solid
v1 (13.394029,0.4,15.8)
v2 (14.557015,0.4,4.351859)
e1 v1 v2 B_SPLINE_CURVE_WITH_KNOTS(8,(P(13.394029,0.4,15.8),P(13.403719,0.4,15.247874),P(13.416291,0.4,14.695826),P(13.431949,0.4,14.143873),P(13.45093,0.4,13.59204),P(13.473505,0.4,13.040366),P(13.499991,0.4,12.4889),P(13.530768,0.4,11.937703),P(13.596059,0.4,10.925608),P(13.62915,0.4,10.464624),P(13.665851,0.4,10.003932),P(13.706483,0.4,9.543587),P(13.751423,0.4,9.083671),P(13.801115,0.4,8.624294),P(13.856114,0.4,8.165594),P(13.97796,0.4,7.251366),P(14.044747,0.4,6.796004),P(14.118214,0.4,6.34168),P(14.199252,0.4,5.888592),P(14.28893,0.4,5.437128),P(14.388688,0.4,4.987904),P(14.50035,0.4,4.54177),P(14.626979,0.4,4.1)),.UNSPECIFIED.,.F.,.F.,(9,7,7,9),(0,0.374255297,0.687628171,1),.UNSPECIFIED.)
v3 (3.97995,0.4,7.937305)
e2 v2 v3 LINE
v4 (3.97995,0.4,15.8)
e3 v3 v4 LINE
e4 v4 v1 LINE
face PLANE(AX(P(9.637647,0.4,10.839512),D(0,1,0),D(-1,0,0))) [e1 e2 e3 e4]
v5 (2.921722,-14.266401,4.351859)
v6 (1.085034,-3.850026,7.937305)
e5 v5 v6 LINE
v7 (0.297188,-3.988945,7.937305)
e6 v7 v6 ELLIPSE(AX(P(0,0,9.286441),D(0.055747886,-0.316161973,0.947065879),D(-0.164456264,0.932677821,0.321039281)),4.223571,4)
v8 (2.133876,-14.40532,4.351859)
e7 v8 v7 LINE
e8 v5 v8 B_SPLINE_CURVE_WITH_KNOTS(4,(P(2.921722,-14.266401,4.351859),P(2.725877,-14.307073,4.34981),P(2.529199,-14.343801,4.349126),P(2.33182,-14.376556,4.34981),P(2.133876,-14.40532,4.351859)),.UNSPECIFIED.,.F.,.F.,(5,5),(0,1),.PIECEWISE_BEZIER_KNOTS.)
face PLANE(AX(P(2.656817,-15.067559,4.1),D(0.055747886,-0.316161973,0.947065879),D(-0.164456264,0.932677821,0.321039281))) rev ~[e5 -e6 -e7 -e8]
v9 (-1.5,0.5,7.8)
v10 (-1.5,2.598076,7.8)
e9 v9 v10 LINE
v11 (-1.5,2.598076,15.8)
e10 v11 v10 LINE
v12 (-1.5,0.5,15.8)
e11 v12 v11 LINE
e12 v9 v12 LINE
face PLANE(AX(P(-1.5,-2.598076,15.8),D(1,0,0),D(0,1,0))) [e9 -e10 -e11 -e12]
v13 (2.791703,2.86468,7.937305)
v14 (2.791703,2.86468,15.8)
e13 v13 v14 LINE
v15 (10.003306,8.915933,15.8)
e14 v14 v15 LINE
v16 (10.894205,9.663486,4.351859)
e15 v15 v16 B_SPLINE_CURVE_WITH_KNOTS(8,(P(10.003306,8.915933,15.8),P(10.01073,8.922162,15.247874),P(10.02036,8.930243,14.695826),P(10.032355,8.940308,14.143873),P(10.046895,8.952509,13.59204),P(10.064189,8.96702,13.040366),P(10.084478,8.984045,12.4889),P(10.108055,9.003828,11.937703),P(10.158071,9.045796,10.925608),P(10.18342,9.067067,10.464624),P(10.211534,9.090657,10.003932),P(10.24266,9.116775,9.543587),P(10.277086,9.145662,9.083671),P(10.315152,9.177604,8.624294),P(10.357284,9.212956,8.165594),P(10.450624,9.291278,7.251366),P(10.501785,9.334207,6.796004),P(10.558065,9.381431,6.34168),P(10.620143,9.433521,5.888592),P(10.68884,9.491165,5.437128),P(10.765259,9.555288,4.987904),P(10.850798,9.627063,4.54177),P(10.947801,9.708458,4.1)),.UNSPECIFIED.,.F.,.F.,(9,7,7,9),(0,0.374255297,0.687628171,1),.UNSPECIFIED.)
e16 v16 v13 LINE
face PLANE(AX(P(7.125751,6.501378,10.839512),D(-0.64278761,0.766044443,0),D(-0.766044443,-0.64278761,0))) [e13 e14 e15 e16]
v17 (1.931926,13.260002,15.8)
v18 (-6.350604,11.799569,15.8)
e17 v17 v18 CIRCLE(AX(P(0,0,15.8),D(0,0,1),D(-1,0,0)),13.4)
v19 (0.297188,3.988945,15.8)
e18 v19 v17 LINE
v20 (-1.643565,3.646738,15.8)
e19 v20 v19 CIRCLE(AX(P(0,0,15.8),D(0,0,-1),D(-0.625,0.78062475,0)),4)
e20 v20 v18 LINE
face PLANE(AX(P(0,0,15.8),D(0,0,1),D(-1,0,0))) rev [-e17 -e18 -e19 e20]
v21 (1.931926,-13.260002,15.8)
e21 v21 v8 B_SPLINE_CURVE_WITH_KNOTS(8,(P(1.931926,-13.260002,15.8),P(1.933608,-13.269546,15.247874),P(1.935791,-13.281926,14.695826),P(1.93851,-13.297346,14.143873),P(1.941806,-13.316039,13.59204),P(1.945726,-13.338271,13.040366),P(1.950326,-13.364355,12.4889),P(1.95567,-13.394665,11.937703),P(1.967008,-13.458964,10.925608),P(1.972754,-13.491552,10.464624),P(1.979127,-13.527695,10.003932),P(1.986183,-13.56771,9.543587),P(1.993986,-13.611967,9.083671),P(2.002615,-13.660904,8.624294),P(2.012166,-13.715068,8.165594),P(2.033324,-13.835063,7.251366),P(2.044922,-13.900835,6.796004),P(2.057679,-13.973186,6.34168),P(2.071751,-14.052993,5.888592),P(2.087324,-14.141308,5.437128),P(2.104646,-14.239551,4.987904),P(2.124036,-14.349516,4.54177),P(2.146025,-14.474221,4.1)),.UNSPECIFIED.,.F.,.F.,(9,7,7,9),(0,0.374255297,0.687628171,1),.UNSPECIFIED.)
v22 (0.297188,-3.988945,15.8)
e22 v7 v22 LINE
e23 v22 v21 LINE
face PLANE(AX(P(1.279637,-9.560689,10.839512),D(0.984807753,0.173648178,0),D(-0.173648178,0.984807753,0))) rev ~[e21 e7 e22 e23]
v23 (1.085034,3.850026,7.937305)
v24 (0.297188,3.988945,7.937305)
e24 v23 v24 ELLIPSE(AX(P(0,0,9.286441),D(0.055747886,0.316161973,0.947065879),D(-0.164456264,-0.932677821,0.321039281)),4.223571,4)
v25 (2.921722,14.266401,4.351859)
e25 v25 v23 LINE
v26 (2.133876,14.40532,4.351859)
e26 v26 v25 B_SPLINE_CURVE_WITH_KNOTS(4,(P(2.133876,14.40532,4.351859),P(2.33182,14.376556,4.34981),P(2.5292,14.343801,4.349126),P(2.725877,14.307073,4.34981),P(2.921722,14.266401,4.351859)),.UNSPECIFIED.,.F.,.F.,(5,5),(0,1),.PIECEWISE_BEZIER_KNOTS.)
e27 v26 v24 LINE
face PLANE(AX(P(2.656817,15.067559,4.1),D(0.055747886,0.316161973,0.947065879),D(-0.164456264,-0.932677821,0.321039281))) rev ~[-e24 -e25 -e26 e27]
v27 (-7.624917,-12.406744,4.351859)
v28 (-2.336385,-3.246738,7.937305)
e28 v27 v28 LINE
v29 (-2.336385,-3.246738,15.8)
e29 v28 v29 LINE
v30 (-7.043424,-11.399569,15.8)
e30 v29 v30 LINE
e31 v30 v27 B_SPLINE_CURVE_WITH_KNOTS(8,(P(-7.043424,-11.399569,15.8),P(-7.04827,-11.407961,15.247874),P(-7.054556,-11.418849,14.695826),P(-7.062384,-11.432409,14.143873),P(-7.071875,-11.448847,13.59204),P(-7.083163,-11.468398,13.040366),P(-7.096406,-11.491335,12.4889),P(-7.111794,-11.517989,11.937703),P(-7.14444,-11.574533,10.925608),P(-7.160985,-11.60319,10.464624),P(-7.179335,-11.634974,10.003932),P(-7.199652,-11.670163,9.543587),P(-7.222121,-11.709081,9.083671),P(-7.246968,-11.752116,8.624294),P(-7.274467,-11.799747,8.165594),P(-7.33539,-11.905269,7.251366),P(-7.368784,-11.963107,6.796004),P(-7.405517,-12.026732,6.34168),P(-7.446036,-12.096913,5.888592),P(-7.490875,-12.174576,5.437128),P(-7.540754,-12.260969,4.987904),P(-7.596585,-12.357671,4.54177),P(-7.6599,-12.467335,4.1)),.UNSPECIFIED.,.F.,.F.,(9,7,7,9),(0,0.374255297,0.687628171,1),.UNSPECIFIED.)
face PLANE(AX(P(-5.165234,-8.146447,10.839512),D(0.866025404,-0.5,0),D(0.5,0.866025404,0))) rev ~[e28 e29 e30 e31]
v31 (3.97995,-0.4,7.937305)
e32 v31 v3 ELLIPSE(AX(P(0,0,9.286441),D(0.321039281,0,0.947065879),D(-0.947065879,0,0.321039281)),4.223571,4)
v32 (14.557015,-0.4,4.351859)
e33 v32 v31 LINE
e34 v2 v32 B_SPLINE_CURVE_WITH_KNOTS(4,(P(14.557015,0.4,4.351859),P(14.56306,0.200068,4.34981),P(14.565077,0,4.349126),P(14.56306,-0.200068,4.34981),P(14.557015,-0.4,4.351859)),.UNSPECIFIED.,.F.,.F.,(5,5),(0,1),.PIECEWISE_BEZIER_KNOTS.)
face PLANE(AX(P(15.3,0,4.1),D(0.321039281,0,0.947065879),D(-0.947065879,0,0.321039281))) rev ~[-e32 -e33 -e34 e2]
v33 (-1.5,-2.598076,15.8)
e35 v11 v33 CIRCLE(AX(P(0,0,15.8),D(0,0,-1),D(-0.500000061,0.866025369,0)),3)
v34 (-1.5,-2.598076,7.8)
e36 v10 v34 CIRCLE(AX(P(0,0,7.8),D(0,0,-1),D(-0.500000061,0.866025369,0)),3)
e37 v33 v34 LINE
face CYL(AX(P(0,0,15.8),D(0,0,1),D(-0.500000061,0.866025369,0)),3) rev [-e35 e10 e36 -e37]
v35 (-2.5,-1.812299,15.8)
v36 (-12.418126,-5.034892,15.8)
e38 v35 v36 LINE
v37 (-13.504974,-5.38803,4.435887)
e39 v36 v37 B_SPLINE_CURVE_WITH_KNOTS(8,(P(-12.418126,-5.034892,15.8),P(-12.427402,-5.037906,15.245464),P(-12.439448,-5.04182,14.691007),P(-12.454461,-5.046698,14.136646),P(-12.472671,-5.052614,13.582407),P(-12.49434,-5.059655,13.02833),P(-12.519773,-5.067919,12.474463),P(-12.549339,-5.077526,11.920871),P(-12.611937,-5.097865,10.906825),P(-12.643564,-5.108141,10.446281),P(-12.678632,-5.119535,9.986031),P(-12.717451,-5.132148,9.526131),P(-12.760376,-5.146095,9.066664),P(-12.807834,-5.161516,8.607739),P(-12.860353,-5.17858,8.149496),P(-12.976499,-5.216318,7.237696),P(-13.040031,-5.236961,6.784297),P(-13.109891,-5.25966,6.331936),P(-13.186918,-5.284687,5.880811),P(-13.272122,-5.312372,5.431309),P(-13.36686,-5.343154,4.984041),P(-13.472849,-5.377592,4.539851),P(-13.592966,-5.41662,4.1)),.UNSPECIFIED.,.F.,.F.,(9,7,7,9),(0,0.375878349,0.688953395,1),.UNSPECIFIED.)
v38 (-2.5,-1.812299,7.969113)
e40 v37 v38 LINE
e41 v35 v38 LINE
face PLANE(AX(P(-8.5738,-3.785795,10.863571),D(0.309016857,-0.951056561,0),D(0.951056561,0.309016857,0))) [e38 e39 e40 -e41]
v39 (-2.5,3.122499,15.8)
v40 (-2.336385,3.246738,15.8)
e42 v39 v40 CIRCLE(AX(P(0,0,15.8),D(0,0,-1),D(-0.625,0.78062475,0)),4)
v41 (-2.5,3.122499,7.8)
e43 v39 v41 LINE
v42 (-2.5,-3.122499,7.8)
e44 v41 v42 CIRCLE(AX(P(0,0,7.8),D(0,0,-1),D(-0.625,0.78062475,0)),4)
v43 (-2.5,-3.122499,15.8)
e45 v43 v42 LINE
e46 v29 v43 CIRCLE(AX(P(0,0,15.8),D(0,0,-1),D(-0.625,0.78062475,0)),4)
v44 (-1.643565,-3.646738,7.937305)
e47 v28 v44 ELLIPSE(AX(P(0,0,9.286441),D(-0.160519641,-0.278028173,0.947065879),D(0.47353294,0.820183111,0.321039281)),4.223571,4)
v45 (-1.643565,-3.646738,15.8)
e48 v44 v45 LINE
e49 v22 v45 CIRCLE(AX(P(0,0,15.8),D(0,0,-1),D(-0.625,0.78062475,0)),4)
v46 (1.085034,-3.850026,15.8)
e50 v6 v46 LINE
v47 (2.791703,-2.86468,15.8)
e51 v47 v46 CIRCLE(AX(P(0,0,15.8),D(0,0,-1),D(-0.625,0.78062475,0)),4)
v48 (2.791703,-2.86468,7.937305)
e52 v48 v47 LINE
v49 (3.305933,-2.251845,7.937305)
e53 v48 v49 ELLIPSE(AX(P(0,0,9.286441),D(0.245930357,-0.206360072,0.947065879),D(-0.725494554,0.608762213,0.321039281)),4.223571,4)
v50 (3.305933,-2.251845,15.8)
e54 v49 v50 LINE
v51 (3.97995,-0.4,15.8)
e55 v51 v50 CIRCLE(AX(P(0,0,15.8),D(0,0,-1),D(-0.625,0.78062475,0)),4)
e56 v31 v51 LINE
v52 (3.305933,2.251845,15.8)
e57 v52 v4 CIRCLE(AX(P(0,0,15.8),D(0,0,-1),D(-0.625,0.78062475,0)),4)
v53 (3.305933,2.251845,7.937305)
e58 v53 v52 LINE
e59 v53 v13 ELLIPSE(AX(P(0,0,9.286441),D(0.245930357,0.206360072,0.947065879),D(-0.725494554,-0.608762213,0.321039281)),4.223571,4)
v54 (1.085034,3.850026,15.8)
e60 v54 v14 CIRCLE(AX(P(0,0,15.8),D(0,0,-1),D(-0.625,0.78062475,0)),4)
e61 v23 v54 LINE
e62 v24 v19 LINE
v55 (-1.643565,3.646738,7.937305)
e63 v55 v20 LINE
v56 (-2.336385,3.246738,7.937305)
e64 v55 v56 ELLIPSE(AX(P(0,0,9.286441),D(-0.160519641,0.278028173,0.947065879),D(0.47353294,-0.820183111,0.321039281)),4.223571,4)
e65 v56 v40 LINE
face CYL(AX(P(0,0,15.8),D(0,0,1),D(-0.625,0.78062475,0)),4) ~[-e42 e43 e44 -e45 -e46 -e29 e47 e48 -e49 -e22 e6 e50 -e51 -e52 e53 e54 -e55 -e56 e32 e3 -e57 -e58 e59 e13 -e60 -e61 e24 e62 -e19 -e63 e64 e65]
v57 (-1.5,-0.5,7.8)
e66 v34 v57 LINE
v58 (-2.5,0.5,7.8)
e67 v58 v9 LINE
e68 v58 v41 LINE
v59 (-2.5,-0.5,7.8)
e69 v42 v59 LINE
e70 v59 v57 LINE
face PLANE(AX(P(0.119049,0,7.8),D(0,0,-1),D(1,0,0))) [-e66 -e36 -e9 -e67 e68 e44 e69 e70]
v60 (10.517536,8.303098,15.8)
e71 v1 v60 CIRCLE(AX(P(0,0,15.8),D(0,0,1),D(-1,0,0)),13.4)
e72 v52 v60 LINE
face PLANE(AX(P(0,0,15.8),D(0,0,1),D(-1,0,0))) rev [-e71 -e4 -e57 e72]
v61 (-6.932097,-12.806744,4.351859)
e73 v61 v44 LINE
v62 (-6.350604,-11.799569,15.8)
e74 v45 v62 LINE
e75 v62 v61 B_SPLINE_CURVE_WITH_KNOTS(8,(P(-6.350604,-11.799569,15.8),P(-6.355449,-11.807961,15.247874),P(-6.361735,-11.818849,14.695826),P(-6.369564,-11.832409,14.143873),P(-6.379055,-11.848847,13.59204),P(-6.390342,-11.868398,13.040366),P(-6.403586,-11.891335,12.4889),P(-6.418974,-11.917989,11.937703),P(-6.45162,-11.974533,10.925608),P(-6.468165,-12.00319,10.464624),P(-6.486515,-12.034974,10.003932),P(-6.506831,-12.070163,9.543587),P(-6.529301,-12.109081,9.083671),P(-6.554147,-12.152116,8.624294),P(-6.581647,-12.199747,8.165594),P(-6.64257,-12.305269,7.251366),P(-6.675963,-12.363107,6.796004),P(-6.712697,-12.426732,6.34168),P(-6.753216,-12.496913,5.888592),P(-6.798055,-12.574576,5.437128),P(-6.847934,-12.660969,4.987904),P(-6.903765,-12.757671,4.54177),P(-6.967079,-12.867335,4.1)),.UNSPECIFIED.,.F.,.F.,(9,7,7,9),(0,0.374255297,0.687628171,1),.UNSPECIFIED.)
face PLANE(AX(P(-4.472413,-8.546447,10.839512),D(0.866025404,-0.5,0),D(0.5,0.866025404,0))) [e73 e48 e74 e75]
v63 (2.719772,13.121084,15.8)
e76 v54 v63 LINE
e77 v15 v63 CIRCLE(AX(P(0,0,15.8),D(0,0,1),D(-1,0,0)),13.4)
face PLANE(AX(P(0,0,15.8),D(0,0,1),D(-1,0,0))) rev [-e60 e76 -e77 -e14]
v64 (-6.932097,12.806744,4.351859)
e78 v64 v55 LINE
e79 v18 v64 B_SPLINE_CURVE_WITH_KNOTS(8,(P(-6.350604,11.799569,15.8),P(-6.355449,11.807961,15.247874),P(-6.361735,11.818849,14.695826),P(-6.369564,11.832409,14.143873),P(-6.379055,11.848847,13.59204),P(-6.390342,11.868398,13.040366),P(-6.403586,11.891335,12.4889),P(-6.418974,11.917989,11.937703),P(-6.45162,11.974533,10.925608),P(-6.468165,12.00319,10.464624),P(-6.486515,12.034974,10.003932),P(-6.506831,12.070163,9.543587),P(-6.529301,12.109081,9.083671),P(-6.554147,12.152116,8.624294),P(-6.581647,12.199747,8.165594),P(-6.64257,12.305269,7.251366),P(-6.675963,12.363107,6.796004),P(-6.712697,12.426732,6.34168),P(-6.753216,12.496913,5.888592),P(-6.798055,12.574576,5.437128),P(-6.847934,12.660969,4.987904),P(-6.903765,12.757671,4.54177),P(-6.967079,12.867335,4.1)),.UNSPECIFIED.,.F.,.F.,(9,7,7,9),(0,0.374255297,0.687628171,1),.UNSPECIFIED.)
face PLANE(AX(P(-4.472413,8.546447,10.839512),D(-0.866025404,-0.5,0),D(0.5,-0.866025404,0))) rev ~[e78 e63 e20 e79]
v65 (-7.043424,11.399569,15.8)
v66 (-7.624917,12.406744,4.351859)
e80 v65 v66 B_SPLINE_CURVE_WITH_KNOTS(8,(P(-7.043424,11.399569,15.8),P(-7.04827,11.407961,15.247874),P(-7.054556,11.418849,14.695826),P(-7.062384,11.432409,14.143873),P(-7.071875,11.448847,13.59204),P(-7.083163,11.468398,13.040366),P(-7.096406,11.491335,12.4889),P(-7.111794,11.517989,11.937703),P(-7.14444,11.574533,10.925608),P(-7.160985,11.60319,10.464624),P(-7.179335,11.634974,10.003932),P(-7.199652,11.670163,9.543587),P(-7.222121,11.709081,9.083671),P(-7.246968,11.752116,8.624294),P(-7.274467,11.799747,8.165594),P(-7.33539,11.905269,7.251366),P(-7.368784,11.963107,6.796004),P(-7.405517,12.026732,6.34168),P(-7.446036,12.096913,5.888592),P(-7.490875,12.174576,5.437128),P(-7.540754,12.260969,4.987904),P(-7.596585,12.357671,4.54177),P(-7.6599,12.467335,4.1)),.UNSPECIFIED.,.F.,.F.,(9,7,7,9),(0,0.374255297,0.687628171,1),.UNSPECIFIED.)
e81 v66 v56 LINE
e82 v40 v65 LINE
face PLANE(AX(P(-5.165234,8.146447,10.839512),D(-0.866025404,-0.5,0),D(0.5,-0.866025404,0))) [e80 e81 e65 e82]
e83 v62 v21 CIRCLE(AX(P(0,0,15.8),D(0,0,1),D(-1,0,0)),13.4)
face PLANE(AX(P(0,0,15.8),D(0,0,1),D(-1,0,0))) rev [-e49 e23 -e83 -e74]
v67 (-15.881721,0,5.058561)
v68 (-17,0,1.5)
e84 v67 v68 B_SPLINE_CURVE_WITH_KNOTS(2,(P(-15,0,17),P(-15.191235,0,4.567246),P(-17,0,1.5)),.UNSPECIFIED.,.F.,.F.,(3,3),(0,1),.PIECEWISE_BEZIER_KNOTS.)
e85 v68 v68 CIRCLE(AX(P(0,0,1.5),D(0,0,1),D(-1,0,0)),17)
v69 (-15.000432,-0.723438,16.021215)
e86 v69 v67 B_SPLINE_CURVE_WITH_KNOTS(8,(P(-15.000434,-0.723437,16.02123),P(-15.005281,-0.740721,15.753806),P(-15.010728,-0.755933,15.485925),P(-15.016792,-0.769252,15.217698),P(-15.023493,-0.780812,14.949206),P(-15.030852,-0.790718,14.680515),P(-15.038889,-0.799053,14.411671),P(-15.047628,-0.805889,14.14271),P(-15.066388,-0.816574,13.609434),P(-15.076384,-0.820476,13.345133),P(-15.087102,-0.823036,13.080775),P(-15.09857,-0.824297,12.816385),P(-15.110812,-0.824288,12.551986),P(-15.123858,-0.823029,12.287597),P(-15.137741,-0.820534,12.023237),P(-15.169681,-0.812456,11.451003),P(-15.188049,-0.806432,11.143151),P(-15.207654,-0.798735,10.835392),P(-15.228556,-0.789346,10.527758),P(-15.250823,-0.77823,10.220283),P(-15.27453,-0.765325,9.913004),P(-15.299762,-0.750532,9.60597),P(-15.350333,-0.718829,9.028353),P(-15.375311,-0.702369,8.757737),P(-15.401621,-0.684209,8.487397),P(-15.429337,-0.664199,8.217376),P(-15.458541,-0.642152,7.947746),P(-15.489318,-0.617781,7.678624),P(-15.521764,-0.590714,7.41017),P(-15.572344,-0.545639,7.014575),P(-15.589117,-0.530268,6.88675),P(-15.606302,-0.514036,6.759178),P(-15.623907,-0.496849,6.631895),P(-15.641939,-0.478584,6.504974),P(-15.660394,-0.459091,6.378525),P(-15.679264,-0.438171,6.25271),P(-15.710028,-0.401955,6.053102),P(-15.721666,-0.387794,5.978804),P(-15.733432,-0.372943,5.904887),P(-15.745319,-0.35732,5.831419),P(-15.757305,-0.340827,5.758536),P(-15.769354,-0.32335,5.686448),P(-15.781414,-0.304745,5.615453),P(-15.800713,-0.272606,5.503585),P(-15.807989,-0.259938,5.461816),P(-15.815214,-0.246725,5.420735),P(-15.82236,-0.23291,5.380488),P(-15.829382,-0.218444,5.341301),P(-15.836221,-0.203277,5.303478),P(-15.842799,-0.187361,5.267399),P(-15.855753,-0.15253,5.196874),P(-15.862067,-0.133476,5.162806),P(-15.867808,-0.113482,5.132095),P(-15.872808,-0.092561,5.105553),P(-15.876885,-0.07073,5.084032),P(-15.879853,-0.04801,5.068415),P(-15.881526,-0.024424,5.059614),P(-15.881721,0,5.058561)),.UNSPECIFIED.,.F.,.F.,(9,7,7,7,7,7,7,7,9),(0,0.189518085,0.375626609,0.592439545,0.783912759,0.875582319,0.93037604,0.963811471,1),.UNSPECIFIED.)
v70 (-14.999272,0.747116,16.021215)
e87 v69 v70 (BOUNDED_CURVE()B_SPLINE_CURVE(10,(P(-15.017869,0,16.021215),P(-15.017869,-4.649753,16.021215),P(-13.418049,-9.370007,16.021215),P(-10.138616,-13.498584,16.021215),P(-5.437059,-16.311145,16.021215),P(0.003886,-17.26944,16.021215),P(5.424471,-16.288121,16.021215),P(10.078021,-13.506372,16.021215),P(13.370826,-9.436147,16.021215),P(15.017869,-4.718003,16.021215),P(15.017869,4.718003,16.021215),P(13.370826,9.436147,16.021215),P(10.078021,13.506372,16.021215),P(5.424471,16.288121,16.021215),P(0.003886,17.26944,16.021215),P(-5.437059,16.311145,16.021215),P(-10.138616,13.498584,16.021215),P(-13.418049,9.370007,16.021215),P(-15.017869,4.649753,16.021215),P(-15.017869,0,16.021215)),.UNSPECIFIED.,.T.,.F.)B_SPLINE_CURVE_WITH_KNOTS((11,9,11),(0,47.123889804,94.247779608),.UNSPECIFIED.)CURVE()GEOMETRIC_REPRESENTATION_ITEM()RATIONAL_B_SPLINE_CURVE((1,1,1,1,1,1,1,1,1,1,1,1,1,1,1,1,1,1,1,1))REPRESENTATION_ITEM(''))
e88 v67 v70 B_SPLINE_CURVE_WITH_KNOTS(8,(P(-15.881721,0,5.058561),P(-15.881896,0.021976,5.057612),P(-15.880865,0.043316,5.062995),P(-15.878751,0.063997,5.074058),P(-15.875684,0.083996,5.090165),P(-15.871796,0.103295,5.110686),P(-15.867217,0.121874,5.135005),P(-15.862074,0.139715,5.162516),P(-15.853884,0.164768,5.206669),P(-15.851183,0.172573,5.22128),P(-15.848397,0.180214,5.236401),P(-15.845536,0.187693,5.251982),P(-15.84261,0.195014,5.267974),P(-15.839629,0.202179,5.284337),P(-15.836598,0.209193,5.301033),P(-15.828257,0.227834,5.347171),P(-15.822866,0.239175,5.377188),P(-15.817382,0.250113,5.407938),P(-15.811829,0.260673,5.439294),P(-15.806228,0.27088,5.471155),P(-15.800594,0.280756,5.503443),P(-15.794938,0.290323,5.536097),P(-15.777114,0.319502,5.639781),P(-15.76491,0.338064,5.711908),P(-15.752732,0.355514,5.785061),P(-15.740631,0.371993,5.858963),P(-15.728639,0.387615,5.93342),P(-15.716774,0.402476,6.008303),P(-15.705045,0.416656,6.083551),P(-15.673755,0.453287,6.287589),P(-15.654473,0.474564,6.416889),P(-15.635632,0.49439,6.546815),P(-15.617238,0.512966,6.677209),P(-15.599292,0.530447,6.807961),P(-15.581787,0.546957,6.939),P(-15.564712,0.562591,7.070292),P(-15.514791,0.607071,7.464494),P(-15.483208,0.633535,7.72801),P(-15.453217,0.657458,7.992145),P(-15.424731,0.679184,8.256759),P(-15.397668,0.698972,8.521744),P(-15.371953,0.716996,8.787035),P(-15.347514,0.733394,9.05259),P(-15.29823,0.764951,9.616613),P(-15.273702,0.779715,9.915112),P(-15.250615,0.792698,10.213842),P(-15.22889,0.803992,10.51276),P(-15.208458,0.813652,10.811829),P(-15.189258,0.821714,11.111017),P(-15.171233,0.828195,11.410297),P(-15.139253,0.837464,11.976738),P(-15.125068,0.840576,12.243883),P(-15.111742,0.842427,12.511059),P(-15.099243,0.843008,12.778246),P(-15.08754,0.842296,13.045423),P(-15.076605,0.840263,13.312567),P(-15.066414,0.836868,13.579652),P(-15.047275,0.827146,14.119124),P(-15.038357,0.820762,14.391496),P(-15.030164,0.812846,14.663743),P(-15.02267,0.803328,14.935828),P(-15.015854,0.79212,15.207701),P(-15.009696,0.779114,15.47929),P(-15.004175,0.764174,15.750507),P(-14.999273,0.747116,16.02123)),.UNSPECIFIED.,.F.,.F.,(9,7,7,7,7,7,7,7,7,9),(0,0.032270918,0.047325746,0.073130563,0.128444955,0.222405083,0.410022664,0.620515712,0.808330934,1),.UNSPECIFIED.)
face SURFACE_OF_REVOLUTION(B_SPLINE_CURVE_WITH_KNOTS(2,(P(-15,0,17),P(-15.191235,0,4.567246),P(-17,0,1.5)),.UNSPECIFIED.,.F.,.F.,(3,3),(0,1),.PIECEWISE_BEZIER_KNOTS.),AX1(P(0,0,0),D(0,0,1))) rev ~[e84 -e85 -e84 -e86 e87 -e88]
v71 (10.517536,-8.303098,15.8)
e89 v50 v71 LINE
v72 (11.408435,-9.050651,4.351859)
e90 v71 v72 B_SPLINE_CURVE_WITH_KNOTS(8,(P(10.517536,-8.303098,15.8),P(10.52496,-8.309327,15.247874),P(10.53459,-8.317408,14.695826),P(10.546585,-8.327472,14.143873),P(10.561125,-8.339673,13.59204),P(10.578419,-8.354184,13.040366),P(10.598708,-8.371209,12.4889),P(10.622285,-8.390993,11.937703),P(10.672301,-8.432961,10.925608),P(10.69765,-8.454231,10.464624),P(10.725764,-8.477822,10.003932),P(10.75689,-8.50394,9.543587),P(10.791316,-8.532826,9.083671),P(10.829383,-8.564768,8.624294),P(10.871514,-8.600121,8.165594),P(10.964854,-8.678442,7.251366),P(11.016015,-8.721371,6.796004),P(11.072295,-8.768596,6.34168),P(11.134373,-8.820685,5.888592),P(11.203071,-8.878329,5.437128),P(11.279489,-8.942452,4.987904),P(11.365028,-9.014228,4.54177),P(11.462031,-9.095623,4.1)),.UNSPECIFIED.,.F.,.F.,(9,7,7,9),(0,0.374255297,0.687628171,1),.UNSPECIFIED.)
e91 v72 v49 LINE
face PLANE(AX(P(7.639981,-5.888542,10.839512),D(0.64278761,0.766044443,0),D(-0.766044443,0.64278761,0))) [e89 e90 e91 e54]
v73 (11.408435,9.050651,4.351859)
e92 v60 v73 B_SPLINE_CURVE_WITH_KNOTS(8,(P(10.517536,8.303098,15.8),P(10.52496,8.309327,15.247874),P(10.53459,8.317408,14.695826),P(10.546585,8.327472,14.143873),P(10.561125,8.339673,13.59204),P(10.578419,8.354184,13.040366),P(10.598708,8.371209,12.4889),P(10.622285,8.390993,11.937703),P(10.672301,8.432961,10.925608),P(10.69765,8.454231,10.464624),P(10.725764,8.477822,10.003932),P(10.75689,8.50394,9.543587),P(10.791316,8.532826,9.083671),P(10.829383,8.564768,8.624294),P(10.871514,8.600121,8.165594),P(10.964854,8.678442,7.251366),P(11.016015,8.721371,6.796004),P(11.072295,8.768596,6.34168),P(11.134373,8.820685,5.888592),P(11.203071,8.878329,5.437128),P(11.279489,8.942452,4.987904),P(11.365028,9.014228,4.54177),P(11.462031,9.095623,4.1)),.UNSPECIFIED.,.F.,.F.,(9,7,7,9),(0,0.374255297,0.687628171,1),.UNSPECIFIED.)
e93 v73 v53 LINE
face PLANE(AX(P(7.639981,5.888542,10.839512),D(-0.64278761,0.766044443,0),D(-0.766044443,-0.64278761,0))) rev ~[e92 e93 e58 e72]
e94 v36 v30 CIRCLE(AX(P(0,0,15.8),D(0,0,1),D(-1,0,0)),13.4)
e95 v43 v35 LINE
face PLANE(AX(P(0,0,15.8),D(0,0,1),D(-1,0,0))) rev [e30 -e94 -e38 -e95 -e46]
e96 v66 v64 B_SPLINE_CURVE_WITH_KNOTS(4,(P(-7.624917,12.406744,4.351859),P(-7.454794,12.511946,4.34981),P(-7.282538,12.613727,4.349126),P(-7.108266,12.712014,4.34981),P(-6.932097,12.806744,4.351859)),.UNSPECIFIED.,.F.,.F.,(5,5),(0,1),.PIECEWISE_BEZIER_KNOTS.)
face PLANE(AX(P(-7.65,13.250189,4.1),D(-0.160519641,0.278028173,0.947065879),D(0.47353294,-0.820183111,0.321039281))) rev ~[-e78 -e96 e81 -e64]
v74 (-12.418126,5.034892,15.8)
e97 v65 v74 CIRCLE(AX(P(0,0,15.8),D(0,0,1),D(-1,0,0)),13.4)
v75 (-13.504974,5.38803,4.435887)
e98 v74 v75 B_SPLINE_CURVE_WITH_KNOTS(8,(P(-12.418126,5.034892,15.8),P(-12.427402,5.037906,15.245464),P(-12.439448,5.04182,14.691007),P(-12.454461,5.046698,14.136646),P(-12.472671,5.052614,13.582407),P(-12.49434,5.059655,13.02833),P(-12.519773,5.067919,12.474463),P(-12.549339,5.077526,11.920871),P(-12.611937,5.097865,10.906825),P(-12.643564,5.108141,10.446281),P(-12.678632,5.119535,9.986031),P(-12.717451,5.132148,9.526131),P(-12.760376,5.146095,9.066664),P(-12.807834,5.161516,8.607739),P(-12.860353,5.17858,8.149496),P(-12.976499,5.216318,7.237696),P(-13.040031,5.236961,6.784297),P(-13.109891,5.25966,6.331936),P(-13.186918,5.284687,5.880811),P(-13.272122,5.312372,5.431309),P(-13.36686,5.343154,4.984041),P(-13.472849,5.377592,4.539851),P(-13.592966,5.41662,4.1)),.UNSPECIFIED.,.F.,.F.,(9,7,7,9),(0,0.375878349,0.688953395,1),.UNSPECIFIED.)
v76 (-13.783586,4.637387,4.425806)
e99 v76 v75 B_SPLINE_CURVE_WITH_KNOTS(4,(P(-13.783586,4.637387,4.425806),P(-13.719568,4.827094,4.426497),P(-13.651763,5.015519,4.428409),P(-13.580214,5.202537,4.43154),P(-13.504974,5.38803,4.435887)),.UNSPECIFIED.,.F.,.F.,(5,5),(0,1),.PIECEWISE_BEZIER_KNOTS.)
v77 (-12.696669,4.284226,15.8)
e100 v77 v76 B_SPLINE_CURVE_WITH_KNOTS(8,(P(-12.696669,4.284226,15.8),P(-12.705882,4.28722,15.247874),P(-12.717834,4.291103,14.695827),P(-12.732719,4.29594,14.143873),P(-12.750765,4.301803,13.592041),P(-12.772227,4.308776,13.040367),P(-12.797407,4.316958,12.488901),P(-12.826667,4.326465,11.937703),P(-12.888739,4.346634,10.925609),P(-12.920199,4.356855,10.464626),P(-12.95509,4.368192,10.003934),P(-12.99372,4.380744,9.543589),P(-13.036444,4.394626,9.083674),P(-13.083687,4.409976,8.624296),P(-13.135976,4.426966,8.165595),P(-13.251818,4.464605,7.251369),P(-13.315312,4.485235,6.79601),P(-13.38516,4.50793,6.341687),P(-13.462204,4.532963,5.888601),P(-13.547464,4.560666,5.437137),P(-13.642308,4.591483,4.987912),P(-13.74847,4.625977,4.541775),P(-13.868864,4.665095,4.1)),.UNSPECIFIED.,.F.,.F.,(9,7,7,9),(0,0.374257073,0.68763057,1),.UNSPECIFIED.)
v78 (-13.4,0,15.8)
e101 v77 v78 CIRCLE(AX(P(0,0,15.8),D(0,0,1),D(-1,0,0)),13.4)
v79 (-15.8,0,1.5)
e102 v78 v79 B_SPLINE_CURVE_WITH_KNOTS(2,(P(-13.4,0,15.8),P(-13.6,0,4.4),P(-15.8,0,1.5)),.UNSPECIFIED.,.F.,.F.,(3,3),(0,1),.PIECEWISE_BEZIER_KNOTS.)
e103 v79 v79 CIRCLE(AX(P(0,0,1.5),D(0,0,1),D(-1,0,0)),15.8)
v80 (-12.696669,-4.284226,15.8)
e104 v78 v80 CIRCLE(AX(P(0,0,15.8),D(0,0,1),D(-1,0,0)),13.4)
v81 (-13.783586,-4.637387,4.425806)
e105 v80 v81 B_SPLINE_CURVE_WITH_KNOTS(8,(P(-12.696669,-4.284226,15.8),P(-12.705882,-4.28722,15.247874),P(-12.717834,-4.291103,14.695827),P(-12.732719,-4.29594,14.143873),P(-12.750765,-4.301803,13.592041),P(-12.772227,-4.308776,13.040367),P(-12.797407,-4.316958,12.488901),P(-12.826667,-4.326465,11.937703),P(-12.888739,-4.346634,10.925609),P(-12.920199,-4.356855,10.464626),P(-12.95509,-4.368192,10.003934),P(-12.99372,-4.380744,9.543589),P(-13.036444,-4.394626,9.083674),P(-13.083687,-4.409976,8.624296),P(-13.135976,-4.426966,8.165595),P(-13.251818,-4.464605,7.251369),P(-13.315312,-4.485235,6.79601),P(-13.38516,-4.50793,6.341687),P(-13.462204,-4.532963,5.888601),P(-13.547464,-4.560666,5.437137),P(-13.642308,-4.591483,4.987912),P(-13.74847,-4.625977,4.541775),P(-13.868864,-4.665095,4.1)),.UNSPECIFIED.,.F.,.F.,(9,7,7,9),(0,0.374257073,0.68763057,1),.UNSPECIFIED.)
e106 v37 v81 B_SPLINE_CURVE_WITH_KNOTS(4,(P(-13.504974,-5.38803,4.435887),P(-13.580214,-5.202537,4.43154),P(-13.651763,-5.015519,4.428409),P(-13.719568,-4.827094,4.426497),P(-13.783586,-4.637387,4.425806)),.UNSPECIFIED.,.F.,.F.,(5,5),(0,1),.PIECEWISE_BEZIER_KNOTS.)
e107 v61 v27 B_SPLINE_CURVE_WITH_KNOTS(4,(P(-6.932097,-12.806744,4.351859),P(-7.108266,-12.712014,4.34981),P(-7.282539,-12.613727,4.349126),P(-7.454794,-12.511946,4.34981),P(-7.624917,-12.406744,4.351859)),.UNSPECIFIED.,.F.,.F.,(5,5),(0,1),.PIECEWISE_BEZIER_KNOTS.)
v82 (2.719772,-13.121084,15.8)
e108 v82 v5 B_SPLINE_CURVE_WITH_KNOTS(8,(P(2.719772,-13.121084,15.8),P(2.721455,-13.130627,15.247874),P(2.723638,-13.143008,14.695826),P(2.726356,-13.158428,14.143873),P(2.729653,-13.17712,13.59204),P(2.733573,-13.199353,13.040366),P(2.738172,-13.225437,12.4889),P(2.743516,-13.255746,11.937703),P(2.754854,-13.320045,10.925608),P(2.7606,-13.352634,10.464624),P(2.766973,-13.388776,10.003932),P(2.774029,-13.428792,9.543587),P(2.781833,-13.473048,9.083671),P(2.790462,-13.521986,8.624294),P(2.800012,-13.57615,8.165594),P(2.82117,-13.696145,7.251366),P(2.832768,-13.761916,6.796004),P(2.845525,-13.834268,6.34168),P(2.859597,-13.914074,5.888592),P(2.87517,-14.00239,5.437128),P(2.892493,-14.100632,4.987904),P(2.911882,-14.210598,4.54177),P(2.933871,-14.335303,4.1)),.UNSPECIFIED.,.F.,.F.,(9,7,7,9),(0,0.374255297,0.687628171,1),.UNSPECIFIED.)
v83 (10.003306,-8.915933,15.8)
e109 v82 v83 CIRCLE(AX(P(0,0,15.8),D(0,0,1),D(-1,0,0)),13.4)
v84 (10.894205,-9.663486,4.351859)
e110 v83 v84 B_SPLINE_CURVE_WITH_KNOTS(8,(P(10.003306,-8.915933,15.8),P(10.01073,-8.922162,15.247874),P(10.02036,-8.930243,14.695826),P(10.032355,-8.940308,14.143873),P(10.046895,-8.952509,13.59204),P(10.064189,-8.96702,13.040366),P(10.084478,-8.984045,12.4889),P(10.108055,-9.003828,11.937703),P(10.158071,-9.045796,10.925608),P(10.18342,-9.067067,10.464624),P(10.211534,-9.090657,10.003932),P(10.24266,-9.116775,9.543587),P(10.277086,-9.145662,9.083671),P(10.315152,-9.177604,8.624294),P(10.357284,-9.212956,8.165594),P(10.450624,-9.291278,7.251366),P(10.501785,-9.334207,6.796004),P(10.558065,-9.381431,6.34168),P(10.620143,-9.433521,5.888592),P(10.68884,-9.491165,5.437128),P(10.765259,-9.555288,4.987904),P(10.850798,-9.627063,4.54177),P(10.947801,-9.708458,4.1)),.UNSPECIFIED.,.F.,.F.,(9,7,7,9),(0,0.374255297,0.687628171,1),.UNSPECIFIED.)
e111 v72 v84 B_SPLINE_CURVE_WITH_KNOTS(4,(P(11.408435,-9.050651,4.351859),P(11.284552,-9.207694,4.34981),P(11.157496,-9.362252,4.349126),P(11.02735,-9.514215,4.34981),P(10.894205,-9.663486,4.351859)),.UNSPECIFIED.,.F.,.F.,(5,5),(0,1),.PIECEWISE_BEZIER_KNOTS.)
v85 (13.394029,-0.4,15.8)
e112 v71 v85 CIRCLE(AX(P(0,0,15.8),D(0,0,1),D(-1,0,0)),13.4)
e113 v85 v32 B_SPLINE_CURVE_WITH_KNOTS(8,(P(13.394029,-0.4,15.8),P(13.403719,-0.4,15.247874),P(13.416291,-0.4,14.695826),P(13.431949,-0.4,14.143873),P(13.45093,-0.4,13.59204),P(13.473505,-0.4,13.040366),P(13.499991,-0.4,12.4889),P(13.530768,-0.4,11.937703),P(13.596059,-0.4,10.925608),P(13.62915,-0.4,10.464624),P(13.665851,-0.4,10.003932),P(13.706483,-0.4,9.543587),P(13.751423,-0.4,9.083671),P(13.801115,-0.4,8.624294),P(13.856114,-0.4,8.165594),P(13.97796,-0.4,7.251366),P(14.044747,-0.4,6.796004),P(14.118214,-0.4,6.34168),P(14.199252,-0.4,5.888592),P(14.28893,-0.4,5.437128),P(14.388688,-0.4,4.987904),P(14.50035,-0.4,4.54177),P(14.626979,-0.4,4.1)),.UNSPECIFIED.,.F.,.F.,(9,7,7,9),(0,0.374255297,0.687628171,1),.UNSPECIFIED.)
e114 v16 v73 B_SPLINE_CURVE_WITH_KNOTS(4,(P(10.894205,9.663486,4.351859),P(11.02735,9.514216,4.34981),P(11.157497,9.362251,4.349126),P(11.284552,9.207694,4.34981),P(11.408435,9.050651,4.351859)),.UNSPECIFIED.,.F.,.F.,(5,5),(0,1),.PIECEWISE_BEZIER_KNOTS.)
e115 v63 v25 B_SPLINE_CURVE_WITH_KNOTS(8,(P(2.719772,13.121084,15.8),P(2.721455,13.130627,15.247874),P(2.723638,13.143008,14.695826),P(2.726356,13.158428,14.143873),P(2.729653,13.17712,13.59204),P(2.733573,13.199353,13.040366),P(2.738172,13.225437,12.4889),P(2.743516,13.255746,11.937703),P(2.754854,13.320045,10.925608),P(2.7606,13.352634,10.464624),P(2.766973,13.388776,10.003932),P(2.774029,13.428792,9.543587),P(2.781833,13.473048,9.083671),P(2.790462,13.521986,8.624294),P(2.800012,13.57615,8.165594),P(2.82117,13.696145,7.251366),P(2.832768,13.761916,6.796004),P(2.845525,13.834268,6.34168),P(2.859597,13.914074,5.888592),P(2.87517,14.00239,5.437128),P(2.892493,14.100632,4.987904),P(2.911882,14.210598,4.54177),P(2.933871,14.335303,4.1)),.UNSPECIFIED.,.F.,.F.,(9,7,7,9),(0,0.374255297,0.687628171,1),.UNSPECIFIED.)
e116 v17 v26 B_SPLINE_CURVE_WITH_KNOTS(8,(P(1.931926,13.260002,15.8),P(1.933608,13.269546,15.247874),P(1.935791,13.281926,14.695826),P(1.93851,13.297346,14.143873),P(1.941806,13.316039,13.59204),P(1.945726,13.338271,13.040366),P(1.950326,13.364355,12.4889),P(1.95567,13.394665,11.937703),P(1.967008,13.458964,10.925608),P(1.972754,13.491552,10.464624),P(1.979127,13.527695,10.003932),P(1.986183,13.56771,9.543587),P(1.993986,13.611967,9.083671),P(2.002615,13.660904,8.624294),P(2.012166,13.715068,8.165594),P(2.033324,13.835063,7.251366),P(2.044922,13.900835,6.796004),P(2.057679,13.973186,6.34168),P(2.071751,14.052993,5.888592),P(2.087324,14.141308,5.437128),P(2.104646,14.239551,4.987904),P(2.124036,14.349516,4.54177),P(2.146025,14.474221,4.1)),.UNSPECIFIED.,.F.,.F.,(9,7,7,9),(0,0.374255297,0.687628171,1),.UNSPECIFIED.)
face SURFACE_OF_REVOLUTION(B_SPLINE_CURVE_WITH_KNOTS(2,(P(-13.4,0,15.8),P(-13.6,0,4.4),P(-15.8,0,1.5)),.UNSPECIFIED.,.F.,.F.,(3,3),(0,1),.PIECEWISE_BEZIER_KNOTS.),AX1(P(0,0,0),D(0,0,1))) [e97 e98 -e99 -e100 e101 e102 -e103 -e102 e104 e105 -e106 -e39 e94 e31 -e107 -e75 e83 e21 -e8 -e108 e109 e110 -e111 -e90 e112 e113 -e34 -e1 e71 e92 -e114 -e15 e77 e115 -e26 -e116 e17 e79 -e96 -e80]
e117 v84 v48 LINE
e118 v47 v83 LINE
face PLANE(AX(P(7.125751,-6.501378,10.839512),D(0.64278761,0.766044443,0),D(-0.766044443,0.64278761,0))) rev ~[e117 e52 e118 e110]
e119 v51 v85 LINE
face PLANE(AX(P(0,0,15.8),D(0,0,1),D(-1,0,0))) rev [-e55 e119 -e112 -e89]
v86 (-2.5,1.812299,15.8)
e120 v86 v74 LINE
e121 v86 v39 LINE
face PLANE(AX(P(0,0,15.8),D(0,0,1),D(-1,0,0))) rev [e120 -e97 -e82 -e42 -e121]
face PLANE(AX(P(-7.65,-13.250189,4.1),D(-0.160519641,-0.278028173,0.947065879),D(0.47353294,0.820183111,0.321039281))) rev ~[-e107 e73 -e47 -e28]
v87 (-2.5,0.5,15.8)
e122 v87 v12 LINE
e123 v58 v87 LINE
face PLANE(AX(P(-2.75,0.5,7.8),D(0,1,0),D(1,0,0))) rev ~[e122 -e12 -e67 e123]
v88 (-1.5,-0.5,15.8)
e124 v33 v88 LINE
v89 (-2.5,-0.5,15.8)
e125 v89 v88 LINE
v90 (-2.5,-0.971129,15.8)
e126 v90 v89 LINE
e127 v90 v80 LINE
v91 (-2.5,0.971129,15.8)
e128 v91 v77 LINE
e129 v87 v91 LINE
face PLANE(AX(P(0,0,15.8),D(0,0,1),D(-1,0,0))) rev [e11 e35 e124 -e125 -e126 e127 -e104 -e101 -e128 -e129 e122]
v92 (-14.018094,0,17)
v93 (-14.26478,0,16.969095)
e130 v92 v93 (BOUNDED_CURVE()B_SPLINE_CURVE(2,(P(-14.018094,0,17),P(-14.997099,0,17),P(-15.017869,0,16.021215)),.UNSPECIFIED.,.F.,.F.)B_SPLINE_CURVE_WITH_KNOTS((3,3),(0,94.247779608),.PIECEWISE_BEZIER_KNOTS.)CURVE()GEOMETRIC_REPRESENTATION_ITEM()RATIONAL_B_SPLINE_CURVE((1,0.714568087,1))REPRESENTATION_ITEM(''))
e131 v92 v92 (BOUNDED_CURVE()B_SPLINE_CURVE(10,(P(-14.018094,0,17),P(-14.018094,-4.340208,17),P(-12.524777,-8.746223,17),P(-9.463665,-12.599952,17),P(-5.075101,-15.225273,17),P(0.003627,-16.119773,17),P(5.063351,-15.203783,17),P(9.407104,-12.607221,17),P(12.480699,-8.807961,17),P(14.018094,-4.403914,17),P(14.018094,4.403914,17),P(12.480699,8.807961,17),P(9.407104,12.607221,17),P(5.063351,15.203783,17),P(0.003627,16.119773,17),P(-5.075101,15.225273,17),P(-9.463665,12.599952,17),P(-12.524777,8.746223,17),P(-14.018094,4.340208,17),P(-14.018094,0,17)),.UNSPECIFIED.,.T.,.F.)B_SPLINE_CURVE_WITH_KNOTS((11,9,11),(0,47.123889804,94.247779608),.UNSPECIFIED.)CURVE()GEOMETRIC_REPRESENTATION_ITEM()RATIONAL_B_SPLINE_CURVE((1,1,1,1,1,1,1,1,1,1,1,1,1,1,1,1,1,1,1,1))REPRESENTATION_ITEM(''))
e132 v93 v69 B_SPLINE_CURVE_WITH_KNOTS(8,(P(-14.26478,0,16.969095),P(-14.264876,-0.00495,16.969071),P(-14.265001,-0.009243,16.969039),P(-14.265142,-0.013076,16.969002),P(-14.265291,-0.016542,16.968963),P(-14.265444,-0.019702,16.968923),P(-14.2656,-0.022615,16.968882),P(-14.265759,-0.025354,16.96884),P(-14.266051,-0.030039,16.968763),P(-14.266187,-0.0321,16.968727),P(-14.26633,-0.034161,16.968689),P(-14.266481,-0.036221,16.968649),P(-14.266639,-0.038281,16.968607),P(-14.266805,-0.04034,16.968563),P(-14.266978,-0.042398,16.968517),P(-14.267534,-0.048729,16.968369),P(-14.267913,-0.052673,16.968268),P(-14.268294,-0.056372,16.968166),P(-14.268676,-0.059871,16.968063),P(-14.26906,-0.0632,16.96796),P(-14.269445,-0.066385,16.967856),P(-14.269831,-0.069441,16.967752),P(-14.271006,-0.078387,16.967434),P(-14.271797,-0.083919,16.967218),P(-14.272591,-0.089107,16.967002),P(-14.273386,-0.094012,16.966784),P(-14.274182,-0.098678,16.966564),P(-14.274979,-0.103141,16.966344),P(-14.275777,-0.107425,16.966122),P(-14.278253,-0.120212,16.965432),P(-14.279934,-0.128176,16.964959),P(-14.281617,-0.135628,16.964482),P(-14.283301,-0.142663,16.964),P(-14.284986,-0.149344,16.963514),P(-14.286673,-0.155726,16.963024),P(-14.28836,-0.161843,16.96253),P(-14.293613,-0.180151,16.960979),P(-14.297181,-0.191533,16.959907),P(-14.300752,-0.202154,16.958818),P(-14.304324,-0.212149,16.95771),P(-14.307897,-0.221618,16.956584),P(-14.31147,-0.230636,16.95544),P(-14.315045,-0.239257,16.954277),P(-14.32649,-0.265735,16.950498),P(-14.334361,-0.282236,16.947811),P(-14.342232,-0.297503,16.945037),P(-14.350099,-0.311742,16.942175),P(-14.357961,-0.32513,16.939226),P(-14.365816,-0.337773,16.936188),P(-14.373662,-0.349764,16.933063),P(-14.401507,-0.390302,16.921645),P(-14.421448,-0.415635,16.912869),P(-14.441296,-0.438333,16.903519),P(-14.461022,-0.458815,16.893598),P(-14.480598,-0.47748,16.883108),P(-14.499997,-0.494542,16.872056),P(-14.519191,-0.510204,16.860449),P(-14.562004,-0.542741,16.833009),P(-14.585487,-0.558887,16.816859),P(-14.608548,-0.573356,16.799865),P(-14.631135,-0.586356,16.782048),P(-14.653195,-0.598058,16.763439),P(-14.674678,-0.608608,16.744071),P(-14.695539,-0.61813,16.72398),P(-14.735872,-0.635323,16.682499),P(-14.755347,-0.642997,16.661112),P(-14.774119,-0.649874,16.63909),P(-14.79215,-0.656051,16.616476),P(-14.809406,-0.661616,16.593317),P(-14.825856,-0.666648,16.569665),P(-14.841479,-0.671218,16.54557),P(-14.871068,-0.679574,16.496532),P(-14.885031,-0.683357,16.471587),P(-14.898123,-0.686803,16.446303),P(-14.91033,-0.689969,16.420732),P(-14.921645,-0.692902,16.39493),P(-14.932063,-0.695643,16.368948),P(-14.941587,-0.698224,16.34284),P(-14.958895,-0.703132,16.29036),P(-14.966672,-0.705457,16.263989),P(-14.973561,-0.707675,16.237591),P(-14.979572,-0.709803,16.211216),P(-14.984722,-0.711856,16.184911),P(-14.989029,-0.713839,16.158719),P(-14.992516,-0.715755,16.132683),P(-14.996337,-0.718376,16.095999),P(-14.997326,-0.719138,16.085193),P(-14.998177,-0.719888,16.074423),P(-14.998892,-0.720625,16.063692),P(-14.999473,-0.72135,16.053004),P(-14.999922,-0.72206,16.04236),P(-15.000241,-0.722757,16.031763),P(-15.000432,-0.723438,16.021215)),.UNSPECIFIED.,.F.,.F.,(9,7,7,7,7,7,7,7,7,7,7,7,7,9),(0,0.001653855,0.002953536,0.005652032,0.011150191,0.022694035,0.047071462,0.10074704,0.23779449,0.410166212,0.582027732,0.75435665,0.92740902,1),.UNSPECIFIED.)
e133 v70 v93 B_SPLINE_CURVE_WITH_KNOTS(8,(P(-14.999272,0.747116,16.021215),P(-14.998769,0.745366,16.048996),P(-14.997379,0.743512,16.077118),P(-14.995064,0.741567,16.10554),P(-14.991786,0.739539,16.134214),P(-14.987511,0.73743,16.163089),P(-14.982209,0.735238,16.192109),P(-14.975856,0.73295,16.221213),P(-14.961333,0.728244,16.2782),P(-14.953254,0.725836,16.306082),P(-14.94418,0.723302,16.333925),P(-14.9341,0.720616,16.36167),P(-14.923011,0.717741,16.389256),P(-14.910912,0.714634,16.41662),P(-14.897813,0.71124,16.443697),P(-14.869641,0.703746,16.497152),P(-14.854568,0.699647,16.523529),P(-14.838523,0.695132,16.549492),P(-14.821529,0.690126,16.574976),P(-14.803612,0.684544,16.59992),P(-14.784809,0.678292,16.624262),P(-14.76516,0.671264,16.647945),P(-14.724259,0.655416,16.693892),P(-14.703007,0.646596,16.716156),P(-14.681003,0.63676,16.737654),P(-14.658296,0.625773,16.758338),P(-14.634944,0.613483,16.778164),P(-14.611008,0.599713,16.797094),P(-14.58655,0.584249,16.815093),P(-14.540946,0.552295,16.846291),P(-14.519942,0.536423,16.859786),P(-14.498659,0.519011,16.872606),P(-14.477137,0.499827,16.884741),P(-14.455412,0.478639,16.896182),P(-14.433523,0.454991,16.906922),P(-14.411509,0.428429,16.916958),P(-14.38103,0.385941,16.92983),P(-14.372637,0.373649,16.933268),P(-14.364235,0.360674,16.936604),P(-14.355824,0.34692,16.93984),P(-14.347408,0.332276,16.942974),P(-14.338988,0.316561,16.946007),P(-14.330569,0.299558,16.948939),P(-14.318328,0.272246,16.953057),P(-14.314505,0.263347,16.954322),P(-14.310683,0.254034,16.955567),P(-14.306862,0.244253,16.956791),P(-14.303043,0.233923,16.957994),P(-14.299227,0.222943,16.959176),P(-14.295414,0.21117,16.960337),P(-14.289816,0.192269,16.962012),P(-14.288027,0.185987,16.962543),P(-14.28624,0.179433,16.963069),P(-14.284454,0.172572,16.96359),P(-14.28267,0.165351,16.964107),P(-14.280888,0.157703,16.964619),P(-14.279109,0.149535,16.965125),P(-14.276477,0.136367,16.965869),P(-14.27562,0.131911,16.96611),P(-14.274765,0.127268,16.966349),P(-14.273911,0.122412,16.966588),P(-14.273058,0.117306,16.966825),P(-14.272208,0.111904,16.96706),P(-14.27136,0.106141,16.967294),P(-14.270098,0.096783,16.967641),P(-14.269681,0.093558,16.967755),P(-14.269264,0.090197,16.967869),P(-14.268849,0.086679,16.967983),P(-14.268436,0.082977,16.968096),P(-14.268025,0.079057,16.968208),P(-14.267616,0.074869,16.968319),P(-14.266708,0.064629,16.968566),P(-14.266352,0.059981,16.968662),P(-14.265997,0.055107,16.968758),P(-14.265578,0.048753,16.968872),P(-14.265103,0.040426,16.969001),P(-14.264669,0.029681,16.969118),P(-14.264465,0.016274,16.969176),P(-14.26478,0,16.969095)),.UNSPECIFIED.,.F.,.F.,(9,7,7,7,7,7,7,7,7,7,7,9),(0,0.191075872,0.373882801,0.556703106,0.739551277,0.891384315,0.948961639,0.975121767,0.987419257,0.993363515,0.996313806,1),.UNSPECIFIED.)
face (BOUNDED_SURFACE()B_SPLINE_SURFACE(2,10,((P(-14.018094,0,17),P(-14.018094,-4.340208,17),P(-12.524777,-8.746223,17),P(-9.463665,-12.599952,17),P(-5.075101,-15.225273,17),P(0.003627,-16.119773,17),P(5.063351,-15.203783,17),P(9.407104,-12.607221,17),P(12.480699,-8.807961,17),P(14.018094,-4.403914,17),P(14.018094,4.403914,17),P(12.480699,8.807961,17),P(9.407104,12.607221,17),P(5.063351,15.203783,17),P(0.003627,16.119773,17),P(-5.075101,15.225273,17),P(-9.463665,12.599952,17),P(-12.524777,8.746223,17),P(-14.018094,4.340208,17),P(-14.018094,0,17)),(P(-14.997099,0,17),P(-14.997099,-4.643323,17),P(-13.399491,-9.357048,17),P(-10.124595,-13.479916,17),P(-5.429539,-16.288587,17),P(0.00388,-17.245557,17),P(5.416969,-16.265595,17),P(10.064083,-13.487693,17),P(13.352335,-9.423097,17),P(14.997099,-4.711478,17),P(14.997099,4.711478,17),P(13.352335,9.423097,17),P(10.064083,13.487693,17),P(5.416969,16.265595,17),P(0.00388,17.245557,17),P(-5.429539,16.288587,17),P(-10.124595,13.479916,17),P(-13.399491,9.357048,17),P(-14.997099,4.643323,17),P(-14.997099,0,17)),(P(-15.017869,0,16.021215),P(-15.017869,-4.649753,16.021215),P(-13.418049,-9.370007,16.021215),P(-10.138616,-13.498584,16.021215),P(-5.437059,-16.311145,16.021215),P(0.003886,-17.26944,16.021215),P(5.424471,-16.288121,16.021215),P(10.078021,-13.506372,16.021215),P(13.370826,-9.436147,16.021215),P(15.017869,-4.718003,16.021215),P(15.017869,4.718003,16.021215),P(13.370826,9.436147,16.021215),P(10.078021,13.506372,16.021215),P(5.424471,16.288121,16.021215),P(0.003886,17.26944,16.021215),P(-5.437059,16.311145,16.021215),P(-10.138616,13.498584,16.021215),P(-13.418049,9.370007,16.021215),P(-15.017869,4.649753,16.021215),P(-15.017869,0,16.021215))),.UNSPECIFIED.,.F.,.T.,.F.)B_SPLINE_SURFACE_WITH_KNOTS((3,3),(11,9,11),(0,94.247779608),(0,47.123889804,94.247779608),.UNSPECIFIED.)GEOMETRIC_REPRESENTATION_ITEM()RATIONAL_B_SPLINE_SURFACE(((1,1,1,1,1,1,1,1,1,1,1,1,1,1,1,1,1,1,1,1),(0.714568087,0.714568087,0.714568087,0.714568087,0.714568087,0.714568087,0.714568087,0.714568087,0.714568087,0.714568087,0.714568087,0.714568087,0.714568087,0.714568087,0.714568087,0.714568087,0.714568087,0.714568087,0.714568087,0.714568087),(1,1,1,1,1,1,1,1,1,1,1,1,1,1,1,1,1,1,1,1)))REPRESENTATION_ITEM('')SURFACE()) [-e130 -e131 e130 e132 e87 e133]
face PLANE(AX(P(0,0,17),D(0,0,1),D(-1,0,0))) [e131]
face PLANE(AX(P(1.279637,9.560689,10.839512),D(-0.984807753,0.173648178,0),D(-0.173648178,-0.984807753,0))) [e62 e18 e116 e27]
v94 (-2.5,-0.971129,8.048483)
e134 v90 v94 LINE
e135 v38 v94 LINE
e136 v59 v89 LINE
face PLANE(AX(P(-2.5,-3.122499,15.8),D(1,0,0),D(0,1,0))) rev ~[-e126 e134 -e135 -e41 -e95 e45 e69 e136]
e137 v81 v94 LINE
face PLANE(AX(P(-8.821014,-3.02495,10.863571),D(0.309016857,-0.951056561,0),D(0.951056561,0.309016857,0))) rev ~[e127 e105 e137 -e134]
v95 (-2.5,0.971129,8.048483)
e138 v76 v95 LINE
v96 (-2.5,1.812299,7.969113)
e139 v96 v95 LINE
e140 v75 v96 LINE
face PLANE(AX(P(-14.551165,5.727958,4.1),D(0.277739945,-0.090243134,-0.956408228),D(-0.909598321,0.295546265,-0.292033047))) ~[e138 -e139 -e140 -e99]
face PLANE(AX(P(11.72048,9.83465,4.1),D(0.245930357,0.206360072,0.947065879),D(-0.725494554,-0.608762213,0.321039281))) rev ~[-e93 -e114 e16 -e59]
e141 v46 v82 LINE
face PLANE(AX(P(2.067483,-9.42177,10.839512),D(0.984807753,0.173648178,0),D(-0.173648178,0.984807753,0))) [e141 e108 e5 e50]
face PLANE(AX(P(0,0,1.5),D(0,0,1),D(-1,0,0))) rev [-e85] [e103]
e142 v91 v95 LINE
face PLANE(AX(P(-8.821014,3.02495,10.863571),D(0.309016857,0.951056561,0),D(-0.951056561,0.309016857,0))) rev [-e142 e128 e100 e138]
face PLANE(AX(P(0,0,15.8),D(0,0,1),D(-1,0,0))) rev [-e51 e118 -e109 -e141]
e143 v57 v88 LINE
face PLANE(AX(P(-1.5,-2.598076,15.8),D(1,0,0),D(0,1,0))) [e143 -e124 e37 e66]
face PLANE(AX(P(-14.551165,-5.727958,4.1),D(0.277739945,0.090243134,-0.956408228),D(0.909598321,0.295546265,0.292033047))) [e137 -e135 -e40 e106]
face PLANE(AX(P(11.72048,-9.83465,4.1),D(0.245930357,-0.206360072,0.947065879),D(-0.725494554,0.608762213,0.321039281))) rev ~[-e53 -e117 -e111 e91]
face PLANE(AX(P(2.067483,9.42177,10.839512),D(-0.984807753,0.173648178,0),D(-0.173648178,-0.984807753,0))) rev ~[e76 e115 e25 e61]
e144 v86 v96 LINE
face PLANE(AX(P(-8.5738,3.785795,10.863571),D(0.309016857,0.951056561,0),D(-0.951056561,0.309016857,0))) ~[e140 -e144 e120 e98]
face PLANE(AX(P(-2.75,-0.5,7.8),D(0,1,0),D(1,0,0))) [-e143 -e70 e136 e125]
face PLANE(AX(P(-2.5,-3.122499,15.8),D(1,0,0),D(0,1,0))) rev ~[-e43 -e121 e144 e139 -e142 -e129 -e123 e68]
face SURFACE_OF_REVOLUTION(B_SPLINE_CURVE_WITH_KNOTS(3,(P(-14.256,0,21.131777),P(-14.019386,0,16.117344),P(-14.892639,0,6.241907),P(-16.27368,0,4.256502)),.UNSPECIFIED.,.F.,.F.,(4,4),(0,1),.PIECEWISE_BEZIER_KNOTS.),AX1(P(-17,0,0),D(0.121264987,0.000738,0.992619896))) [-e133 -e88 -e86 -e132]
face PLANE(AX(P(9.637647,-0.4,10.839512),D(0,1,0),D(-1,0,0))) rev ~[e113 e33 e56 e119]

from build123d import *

# Parameters (mm, degrees)
PAD_DEPTH             = 8
SKETCH003_W           = 5.5
SKETCH003_H           = 1
POCKET_DEPTH          = 8
FILLET001_R           = 1
PAD001_DEPTH          = 0.4
POLARPATTERN_COUNT    = 4
POLARPATTERN_ANGLE    = 120
POLARPATTERN001_COUNT = 4
POLARPATTERN001_ANGLE = 120
PAD002_DEPTH          = 0.8


with BuildPart() as part:
    # Sketch → Revolution001 (revolve)
    with BuildSketch(Plane.XZ):
        with BuildLine():
            Line((-15, 17), (0, 17))
            Line((0, 17), (0, 15.8))
            Line((0, 15.8), (-13.4, 15.8))
            add(Edge.make_bspline(
                [(-13.4, 15.8), (-13.6, 4.4), (-15.8, 1.5)],
                knots=[0, 0, 0, 1, 1, 1], degree=2))
            Line((-15.8, 1.5), (-17, 1.5))
            add(Edge.make_bspline(
                [(-15, 17), (-15.191235, 4.567246), (-17, 1.5)],
                knots=[0, 0, 0, 1, 1, 1], degree=2))
        make_face()
    revolve(axis=Axis((0, 0, 0), (0, 0, 1)))

    # Sketch002 (on Face2 of Revolution001) → Pad (new body)
    with BuildSketch(Plane(origin=(0, 0, 15.8), x_dir=(1, 0, 0), z_dir=(0, 0, -1))):
        with BuildLine():
            Line((-2.5, 3.122499), (-2.5, -3.122499))
            ThreePointArc((-2.5, -3.122499), (4, 0), (-2.5, 3.122499))
        make_face()
        with BuildLine():
            Line((-1.5, 2.598076), (-1.5, -2.598076))
            ThreePointArc((-1.5, -2.598076), (3, 0), (-1.5, 2.598076))
        make_face(mode=Mode.SUBTRACT)
    extrude(amount=PAD_DEPTH)

    # Sketch003 (on Face8 of Pad) → Pocket (cut)
    with BuildSketch(Plane(origin=(0, 0, 7.8), x_dir=(1, 0, 0), z_dir=(0, 0, -1))):
        Rectangle(SKETCH003_W, SKETCH003_H)
    extrude(amount=-POCKET_DEPTH, mode=Mode.SUBTRACT)

    # Fillet001
    fillet001_edges = [part.edges().sort_by_distance(p)[0] for p in [
        (15, 0, 17),
    ]]
    fillet(fillet001_edges, radius=FILLET001_R)

    # Sketch004 → Pad001 (join, symmetric)
    with BuildSketch(Plane.XZ):
        Polygon((3.5, 16.2), (14.1, 16.2), (15.3, 4.1), (3.5, 8.1), align=None)
    pad001 = extrude(amount=PAD001_DEPTH, both=True)

    # PolarPattern: Pad001 ×4 about axis
    polarpattern_axis = Axis((0, 0, 0), (0, 0, 1))
    for i in range(1, POLARPATTERN_COUNT):
        add(pad001.rotate(polarpattern_axis, i * POLARPATTERN_ANGLE / (POLARPATTERN_COUNT - 1)))

    # PolarPattern001: Pad001 ×4 about axis
    polarpattern001_axis = Axis((0, 0, 0), (0, 0, -1))
    for i in range(1, POLARPATTERN001_COUNT):
        add(pad001.rotate(polarpattern001_axis, i * POLARPATTERN001_ANGLE / (POLARPATTERN001_COUNT - 1)))

    # Sketch005 (on DatumPlane) → Pad002 (join)
    with BuildSketch(Plane(origin=(0, -1, 0), x_dir=(0.951057, 0.309017, 0), z_dir=(0.309017, -0.951057, 0))):
        Polygon((-2.2, 16.2), (-14.1, 16.2), (-15.3, 4.1), (-2.2, 8.1), align=None)
    pad002 = extrude(amount=-PAD002_DEPTH)

    # Mirrored: Pad002 across XZ
    add(pad002.mirror(Plane.XZ))

    # Sketch006 (on DatumPlane) → Groove (revolve, cut)
    with BuildSketch(Plane.XZ):
        with BuildLine():
            Line((-14.256, 21.131777), (-16.27368, 4.256502))
            add(Edge.make_bspline(
                [(-14.256, 21.131777), (-14.019386, 16.117344), (-14.892639, 6.241907), (-16.27368, 4.256502)],
                knots=[0, 0, 0, 0, 1, 1, 1, 1], degree=3))
        make_face()
    revolve(axis=Axis((-17, 0, 0), (0.121265, 0.000738, 0.99262)), mode=Mode.SUBTRACT)


solid = part.part
